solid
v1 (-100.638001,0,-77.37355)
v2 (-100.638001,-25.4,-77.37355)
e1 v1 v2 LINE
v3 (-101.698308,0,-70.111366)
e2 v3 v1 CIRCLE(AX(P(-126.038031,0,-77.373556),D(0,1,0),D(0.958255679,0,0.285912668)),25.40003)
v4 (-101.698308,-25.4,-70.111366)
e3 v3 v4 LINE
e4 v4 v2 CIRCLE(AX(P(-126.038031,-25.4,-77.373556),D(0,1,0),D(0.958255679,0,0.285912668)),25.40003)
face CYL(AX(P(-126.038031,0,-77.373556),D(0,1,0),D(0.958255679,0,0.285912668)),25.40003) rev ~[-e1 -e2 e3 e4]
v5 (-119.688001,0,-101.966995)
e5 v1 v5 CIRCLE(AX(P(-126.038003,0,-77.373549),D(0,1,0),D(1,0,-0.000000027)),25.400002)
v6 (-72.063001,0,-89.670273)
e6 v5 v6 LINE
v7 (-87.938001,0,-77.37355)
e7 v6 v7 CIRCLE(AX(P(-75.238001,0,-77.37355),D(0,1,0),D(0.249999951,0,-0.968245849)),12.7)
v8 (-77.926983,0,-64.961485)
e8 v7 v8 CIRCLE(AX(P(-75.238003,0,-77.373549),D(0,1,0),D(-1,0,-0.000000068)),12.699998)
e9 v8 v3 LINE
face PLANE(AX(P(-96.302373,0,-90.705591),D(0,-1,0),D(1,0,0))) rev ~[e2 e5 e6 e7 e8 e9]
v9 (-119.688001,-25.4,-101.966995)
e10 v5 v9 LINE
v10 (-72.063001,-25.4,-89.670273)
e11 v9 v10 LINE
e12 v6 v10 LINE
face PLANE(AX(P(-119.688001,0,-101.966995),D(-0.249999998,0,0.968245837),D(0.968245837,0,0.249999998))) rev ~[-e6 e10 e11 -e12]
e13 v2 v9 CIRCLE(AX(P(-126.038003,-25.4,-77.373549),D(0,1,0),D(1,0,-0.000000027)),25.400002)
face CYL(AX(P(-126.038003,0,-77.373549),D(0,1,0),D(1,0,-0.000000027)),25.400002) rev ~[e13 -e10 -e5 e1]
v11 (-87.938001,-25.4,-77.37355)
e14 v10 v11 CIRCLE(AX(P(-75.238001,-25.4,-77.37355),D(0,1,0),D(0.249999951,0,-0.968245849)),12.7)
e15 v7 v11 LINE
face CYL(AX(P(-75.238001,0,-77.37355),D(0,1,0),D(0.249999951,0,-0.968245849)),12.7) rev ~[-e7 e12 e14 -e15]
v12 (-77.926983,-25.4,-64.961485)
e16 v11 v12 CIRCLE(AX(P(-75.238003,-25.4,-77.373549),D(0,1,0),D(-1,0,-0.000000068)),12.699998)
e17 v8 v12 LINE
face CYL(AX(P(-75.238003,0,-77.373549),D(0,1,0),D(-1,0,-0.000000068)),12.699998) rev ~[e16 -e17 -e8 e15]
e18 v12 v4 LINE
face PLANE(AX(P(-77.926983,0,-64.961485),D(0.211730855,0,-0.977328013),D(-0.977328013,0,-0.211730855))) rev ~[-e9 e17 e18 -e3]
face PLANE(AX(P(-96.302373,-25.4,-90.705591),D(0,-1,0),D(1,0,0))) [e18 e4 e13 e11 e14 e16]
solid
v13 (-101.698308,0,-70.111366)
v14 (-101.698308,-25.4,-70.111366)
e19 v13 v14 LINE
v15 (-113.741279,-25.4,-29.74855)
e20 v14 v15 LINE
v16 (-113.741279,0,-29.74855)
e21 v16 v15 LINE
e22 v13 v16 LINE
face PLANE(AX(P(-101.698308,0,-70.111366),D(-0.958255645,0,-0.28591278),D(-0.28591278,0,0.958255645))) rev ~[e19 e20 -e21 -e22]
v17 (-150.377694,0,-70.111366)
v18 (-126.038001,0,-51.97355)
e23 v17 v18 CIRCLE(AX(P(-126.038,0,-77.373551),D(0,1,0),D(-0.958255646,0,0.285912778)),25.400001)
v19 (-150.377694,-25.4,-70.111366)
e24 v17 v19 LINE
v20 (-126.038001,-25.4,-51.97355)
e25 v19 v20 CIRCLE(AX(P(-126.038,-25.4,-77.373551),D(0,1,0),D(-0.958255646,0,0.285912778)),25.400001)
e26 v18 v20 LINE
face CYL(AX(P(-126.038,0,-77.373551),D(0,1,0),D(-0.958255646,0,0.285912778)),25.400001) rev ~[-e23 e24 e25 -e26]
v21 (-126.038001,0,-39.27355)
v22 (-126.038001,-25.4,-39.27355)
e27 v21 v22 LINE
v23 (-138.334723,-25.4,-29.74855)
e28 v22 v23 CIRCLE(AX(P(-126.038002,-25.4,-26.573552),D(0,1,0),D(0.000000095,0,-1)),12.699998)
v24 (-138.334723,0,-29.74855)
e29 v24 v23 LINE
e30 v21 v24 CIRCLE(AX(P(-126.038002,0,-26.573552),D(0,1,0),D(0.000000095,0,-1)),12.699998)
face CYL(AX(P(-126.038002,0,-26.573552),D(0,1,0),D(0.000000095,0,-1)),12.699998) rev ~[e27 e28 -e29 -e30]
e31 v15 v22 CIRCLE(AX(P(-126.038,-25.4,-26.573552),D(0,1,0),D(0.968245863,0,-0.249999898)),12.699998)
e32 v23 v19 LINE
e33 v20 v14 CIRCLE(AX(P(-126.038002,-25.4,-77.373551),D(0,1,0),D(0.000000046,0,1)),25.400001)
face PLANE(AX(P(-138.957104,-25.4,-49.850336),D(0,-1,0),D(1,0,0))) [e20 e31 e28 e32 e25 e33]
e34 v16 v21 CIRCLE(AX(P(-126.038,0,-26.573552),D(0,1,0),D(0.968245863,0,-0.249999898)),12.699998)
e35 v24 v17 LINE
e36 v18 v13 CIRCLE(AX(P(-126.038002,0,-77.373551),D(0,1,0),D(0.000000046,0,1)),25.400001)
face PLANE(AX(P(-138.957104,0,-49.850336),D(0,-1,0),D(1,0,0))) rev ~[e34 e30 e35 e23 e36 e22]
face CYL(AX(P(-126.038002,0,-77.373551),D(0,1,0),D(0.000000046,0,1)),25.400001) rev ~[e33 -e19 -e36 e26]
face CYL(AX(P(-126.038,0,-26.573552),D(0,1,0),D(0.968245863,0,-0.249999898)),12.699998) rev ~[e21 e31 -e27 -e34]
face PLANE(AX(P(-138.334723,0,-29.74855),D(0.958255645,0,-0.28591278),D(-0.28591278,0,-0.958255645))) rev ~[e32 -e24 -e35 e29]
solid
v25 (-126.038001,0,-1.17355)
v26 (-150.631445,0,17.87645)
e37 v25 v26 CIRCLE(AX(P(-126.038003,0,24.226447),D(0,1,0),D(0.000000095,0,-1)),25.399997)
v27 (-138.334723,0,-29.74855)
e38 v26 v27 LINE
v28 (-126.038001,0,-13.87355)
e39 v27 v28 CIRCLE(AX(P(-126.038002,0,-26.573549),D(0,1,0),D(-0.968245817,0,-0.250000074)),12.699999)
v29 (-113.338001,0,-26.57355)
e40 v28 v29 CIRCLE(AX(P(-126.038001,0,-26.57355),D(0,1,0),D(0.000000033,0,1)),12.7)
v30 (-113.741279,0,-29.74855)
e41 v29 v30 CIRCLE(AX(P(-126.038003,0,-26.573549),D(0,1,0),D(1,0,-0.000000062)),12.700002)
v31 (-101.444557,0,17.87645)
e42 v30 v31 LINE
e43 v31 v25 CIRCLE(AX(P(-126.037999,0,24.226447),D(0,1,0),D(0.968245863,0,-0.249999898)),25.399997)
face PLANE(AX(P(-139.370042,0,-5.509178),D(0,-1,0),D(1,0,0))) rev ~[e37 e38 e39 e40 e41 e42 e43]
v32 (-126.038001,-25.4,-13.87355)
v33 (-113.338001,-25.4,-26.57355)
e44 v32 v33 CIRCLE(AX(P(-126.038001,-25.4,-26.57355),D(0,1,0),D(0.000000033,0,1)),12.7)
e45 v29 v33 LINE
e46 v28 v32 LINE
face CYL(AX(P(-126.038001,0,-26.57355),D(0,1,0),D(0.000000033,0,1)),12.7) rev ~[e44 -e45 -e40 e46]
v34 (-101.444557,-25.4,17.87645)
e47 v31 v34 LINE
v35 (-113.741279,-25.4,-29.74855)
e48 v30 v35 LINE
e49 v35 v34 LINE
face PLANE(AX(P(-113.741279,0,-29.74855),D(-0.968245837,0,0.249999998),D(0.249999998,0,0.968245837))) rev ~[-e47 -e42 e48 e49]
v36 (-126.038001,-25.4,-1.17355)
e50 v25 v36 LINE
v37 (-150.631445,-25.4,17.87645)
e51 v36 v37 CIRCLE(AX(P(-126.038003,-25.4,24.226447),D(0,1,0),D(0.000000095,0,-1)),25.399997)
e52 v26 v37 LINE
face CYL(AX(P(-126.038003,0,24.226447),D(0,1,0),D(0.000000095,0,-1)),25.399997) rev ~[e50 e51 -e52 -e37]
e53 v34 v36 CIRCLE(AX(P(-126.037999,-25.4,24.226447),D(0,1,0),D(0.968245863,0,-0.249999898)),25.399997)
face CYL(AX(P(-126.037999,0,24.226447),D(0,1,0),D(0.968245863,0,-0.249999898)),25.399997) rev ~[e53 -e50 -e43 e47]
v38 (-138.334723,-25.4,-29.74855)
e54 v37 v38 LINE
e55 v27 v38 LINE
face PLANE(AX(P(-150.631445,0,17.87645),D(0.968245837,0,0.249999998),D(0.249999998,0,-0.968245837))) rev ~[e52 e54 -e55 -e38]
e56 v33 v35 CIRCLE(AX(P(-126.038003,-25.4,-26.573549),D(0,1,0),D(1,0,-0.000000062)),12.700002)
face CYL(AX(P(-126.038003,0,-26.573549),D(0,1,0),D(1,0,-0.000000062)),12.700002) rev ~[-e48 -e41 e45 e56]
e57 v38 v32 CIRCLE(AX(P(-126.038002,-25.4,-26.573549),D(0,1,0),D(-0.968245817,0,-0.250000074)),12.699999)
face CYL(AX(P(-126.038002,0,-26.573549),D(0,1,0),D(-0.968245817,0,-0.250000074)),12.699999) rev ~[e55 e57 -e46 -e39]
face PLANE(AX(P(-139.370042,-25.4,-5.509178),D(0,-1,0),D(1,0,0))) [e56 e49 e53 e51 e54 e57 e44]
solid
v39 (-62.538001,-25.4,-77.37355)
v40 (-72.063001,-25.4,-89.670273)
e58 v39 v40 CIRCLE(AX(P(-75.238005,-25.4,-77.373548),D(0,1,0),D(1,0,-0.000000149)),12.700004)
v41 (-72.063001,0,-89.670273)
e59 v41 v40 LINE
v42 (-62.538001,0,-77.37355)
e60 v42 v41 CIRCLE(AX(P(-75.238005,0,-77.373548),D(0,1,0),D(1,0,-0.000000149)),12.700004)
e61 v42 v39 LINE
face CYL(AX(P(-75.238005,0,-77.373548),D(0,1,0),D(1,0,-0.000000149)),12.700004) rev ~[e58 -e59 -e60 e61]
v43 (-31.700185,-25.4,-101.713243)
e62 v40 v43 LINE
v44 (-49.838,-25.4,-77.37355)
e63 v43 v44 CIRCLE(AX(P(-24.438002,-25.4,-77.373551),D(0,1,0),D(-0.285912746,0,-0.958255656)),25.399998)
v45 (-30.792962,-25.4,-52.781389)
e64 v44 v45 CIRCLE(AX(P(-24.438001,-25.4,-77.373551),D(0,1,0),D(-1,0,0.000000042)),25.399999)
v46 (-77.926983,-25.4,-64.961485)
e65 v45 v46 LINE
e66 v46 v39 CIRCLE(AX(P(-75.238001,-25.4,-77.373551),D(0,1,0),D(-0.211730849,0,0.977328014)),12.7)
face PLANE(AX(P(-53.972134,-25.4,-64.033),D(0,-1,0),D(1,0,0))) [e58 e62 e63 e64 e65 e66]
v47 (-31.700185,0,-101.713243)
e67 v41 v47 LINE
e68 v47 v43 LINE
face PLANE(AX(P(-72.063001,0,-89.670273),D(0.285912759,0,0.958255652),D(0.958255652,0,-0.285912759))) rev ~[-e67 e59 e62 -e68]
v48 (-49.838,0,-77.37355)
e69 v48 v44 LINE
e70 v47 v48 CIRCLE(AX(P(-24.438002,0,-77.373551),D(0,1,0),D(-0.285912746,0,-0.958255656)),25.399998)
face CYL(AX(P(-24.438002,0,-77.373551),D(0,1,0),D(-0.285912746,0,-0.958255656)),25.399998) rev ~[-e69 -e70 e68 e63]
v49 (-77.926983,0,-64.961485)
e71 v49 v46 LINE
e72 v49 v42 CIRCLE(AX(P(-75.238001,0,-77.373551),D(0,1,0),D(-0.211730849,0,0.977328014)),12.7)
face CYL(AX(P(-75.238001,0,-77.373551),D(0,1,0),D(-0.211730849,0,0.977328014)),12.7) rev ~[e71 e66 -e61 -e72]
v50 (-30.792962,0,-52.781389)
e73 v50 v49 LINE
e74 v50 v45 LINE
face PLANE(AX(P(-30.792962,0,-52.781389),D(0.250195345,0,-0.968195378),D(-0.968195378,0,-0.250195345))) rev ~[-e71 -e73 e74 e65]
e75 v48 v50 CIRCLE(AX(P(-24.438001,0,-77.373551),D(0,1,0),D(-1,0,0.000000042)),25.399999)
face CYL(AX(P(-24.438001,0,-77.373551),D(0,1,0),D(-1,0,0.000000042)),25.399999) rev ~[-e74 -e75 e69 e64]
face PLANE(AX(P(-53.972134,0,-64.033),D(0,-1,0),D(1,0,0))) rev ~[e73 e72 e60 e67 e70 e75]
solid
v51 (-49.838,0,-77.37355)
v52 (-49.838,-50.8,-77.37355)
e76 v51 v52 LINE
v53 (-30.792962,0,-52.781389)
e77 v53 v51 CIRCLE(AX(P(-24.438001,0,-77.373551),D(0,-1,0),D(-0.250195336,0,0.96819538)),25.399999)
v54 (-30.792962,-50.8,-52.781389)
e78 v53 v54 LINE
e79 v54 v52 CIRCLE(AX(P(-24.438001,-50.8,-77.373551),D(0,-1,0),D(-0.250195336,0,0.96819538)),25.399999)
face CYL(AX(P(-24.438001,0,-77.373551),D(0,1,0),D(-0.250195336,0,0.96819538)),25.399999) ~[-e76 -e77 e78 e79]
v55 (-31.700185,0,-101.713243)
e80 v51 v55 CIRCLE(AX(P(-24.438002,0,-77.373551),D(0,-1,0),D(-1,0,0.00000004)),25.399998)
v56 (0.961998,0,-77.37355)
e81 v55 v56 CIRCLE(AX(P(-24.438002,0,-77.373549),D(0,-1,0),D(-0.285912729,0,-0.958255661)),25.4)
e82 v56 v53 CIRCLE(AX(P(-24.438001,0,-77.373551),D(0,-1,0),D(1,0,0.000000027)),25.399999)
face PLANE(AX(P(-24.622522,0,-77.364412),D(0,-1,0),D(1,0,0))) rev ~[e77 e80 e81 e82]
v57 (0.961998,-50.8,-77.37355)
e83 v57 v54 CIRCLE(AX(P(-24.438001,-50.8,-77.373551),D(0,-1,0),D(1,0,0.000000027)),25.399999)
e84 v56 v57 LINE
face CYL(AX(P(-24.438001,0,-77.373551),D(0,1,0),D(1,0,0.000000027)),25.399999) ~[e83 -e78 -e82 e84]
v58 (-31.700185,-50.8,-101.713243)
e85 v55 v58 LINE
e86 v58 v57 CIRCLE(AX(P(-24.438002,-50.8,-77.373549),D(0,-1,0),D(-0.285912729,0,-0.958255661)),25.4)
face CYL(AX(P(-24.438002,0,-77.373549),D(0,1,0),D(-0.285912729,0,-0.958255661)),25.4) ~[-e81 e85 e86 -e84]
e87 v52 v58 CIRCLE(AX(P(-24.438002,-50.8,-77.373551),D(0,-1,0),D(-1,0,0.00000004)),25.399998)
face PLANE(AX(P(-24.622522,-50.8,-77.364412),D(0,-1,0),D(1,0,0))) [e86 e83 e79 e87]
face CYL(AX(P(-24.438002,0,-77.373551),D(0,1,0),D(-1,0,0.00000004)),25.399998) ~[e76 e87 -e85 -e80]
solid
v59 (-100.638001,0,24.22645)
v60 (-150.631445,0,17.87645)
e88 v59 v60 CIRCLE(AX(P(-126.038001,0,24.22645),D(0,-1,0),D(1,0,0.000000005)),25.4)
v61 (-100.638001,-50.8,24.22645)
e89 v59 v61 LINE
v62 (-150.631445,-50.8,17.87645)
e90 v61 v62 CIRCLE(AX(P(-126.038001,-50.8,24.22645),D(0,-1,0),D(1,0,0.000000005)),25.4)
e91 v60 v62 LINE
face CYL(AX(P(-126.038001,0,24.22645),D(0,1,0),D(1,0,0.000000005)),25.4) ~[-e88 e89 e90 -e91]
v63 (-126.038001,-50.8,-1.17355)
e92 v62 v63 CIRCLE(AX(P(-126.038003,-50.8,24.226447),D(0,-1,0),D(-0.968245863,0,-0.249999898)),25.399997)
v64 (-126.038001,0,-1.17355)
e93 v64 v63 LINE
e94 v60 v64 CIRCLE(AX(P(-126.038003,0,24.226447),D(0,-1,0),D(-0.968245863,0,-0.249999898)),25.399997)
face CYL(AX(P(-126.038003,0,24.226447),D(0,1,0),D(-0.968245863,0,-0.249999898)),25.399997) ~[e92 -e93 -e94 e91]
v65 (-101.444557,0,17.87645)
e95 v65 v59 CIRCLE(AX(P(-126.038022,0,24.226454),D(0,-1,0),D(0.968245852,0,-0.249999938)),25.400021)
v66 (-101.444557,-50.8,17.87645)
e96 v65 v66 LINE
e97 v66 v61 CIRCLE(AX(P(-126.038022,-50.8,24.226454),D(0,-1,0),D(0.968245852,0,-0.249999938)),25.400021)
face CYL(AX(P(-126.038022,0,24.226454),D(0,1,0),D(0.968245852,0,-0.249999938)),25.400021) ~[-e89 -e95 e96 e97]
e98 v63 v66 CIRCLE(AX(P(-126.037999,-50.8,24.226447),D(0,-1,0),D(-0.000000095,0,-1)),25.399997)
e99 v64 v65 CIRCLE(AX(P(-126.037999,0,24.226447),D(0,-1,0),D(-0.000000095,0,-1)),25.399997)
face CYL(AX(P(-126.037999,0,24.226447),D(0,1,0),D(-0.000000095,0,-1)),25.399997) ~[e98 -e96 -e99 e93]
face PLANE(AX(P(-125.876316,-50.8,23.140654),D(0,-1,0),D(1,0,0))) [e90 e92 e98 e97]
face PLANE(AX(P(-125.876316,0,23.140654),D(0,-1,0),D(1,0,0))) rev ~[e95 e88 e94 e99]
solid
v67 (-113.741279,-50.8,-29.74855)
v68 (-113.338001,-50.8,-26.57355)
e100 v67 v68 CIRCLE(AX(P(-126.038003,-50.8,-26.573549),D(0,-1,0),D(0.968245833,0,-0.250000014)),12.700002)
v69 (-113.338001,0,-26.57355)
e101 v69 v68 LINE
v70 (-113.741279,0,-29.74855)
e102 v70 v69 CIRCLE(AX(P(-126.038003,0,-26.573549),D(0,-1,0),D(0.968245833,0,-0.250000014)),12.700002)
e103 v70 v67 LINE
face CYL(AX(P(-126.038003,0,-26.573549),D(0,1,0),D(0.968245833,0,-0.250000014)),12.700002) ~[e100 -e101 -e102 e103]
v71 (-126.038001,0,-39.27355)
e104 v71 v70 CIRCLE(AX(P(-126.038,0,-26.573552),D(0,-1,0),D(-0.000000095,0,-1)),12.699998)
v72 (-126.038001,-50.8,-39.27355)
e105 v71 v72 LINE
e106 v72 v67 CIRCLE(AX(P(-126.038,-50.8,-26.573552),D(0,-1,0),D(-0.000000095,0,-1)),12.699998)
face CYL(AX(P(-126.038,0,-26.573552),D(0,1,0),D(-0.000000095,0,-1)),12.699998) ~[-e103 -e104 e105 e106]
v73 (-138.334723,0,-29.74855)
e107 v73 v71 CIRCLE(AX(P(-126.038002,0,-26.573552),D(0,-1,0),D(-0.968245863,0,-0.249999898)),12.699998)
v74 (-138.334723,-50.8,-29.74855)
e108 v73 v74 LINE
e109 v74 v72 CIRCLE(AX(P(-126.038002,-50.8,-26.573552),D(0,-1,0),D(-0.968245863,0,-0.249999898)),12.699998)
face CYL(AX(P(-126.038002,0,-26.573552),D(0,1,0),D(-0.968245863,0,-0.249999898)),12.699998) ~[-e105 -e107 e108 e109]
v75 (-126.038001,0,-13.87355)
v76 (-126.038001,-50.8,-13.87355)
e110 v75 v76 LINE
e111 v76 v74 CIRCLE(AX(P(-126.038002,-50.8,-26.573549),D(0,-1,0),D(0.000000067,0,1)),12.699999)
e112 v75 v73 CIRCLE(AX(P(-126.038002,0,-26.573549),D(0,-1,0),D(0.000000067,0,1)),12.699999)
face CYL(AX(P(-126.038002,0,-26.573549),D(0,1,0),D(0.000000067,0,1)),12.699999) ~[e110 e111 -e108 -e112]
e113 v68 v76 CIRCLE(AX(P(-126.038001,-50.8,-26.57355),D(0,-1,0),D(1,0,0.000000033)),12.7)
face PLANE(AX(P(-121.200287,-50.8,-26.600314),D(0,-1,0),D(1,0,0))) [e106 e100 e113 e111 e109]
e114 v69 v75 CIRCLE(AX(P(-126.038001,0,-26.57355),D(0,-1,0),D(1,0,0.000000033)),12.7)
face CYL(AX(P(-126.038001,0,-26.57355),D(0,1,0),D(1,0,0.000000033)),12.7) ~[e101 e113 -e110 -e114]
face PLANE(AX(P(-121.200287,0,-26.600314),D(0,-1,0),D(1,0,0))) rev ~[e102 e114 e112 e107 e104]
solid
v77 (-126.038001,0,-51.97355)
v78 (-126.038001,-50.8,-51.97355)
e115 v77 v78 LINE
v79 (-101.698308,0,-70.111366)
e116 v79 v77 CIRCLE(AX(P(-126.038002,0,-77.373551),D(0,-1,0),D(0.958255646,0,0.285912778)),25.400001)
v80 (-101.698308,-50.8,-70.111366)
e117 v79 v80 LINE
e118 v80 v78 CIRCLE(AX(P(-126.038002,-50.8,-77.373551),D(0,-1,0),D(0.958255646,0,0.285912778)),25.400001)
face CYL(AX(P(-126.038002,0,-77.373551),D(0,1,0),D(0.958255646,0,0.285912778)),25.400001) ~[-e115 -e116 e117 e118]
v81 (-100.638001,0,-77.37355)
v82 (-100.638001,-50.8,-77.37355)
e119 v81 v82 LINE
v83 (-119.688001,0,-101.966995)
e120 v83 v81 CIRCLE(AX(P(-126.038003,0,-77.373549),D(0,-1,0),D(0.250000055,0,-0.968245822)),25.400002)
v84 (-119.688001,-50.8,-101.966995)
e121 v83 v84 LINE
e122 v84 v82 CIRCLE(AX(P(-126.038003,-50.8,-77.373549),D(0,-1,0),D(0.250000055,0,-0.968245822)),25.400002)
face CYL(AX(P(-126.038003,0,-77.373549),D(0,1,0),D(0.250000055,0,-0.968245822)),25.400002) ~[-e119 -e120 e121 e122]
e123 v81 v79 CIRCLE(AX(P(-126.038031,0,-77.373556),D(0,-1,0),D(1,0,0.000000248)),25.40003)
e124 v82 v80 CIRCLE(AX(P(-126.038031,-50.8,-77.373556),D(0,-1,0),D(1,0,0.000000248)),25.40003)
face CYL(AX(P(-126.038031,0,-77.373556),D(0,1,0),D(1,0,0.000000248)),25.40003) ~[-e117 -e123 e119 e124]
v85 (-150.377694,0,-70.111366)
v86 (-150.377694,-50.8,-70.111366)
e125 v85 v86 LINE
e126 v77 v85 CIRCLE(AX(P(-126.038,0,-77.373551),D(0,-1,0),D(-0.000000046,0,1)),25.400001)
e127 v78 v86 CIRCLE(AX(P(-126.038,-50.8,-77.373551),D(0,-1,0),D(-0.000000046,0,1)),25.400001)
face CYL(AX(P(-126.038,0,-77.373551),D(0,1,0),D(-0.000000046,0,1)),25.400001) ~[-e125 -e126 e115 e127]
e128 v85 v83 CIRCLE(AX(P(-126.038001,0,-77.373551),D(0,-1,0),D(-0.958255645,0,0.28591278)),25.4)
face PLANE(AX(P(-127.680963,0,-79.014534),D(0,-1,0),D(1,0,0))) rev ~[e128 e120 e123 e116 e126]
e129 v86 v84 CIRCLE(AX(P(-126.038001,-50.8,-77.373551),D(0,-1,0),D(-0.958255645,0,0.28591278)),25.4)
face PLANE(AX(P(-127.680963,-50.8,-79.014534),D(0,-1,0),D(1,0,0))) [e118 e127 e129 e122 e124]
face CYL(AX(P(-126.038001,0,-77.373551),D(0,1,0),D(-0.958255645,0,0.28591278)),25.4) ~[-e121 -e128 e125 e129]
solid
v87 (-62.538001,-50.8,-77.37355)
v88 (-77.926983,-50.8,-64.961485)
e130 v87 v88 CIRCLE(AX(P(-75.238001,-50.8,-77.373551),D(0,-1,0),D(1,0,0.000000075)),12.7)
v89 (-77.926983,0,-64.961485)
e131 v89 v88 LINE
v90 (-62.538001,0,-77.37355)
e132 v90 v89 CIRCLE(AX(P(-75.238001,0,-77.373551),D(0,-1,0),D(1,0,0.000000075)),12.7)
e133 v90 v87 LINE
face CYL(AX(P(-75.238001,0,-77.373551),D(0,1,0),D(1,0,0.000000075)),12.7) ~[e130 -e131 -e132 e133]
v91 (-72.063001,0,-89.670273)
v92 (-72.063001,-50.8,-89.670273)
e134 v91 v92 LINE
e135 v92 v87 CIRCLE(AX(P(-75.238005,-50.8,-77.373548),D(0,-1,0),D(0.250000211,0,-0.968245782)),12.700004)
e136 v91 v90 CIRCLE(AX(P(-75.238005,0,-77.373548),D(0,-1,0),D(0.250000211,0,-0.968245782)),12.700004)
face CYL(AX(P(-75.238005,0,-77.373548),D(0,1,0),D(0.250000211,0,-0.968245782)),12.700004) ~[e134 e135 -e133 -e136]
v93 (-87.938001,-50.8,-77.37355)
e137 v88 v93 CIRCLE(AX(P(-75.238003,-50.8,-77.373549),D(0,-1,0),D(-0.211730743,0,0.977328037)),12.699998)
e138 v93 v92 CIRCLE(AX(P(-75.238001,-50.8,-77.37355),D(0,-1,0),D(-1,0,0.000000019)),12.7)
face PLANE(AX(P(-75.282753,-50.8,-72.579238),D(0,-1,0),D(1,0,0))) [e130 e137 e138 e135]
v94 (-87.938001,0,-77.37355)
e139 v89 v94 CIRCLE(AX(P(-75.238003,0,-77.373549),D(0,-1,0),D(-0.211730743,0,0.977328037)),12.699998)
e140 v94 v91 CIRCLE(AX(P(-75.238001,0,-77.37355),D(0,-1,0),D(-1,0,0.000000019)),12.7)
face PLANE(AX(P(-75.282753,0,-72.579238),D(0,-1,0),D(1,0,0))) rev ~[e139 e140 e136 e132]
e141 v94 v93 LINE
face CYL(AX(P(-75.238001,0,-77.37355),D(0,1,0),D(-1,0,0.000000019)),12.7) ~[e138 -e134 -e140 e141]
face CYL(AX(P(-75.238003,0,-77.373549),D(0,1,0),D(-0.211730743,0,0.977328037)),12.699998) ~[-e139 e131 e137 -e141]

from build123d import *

# Parameters (mm, degrees)
F1_DEPTH = 50.8
F2_DEPTH = 25.4


with BuildPart() as f1:
    # F0 (on Front) → F1 (new body)
    with BuildSketch(Plane.XZ):
        with BuildLine():
            ThreePointArc((-126.038001, -1.17355), (-110.483741, 4.145986), (-101.444557, 17.87645))
            ThreePointArc((-101.444557, 17.87645), (-100.840447, 21.025941), (-100.638001, 24.22645))
            ThreePointArc((-100.638001, 24.22645), (-129.23851, 49.424004), (-150.631445, 17.87645))
            ThreePointArc((-150.631445, 17.87645), (-141.592261, 4.145986), (-126.038001, -1.17355))
        make_face()
        with BuildLine():
            ThreePointArc((-119.688001, -101.966995), (-105.957538, -92.92781), (-100.638001, -77.37355))
            Line((-100.638001, -77.37355), (-126.038001, -77.37355))
            Line((-126.038001, -77.37355), (-126.038001, -51.97355))
            ThreePointArc((-126.038001, -51.97355), (-141.215295, -57.006672), (-150.377694, -70.111366))
            ThreePointArc((-150.377694, -70.111366), (-144.330145, -94.996191), (-119.688001, -101.966995))
        make_face()
        with BuildLine():
            Line((-126.038001, -77.37355), (-100.638001, -77.37355))
            ThreePointArc((-100.638001, -77.37355), (-100.904476, -73.70396), (-101.698308, -70.111366))
            ThreePointArc((-101.698308, -70.111366), (-110.860707, -57.006672), (-126.038001, -51.97355))
            Line((-126.038001, -51.97355), (-126.038001, -77.37355))
        make_face()
        with BuildLine():
            ThreePointArc((-126.038001, -39.27355), (-118.260871, -36.613782), (-113.741279, -29.74855))
            ThreePointArc((-113.741279, -29.74855), (-113.439224, -28.173805), (-113.338001, -26.57355))
            ThreePointArc((-113.338001, -26.57355), (-117.057745, -17.593294), (-126.038001, -13.87355))
            Line((-126.038001, -13.87355), (-126.038001, -26.57355))
            Line((-126.038001, -26.57355), (-126.038001, -39.27355))
        make_face()
        with BuildLine():
            ThreePointArc((-138.334723, -29.74855), (-133.815131, -36.613782), (-126.038001, -39.27355))
            Line((-126.038001, -39.27355), (-126.038001, -26.57355))
            Line((-126.038001, -26.57355), (-126.038001, -13.87355))
            ThreePointArc((-126.038001, -13.87355), (-136.078233, -18.79642), (-138.334723, -29.74855))
        make_face()
        with BuildLine():
            ThreePointArc((-30.792962, -52.781389), (-44.520032, -61.821317), (-49.838, -77.37355))
            ThreePointArc((-49.838, -77.37355), (-44.804879, -92.550844), (-31.700185, -101.713243))
            ThreePointArc((-31.700185, -101.713243), (-9.260708, -97.740428), (0.961998, -77.37355))
            ThreePointArc((0.961998, -77.37355), (-8.885768, -57.291519), (-30.792962, -52.781389))
        make_face()
        with BuildLine():
            Line((-87.938001, -77.37355), (-75.238001, -77.37355))
            Line((-75.238001, -77.37355), (-62.538001, -77.37355))
            ThreePointArc((-62.538001, -77.37355), (-67.264924, -67.488206), (-77.926983, -64.961485))
            ThreePointArc((-77.926983, -64.961485), (-85.123346, -69.400473), (-87.938001, -77.37355))
        make_face()
        with BuildLine():
            Line((-62.538001, -77.37355), (-75.238001, -77.37355))
            Line((-75.238001, -77.37355), (-87.938001, -77.37355))
            ThreePointArc((-87.938001, -77.37355), (-83.015131, -87.413782), (-72.063001, -89.670273))
            ThreePointArc((-72.063001, -89.670273), (-65.19777, -85.15068), (-62.538001, -77.37355))
        make_face()
    extrude(amount=F1_DEPTH)


with BuildPart() as f2:
    # F0 (on Front) → F2 (new body)
    with BuildSketch(Plane.XZ):
        with BuildLine():
            Line((-150.631445, 17.87645), (-138.334723, -29.74855))
            ThreePointArc((-138.334723, -29.74855), (-136.078233, -18.79642), (-126.038001, -13.87355))
            Line((-126.038001, -13.87355), (-126.038001, -1.17355))
            ThreePointArc((-126.038001, -1.17355), (-141.592261, 4.145986), (-150.631445, 17.87645))
        make_face()
        with BuildLine():
            ThreePointArc((-113.338001, -26.57355), (-113.439224, -28.173805), (-113.741279, -29.74855))
            Line((-113.741279, -29.74855), (-101.444557, 17.87645))
            ThreePointArc((-101.444557, 17.87645), (-110.483741, 4.145986), (-126.038001, -1.17355))
            Line((-126.038001, -1.17355), (-126.038001, -13.87355))
            ThreePointArc((-126.038001, -13.87355), (-117.057745, -17.593294), (-113.338001, -26.57355))
        make_face()
        with BuildLine():
            ThreePointArc((-150.377694, -70.111366), (-141.215295, -57.006672), (-126.038001, -51.97355))
            Line((-126.038001, -51.97355), (-126.038001, -39.27355))
            ThreePointArc((-126.038001, -39.27355), (-133.815131, -36.613782), (-138.334723, -29.74855))
            Line((-138.334723, -29.74855), (-150.377694, -70.111366))
        make_face()
        with BuildLine():
            ThreePointArc((-126.038001, -51.97355), (-110.860707, -57.006672), (-101.698308, -70.111366))
            Line((-101.698308, -70.111366), (-113.741279, -29.74855))
            ThreePointArc((-113.741279, -29.74855), (-118.260871, -36.613782), (-126.038001, -39.27355))
            Line((-126.038001, -39.27355), (-126.038001, -51.97355))
        make_face()
        with BuildLine():
            ThreePointArc((-72.063001, -89.670273), (-83.015131, -87.413782), (-87.938001, -77.37355))
            Line((-87.938001, -77.37355), (-100.638001, -77.37355))
            ThreePointArc((-100.638001, -77.37355), (-105.957538, -92.92781), (-119.688001, -101.966995))
            Line((-119.688001, -101.966995), (-72.063001, -89.670273))
        make_face()
        with BuildLine():
            Line((-100.638001, -77.37355), (-87.938001, -77.37355))
            ThreePointArc((-87.938001, -77.37355), (-85.123346, -69.400473), (-77.926983, -64.961485))
            Line((-77.926983, -64.961485), (-101.698308, -70.111366))
            ThreePointArc((-101.698308, -70.111366), (-100.904476, -73.70396), (-100.638001, -77.37355))
        make_face()
        with BuildLine():
            ThreePointArc((-77.926983, -64.961485), (-67.264924, -67.488206), (-62.538001, -77.37355))
            Line((-62.538001, -77.37355), (-49.838, -77.37355))
            ThreePointArc((-49.838, -77.37355), (-44.520032, -61.821317), (-30.792962, -52.781389))
            Line((-30.792962, -52.781389), (-77.926983, -64.961485))
        make_face()
        with BuildLine():
            Line((-49.838, -77.37355), (-62.538001, -77.37355))
            ThreePointArc((-62.538001, -77.37355), (-65.19777, -85.15068), (-72.063001, -89.670273))
            Line((-72.063001, -89.670273), (-31.700185, -101.713243))
            ThreePointArc((-31.700185, -101.713243), (-44.804879, -92.550844), (-49.838, -77.37355))
        make_face()
    extrude(amount=F2_DEPTH)


solid = Compound([f1.part, f2.part])
